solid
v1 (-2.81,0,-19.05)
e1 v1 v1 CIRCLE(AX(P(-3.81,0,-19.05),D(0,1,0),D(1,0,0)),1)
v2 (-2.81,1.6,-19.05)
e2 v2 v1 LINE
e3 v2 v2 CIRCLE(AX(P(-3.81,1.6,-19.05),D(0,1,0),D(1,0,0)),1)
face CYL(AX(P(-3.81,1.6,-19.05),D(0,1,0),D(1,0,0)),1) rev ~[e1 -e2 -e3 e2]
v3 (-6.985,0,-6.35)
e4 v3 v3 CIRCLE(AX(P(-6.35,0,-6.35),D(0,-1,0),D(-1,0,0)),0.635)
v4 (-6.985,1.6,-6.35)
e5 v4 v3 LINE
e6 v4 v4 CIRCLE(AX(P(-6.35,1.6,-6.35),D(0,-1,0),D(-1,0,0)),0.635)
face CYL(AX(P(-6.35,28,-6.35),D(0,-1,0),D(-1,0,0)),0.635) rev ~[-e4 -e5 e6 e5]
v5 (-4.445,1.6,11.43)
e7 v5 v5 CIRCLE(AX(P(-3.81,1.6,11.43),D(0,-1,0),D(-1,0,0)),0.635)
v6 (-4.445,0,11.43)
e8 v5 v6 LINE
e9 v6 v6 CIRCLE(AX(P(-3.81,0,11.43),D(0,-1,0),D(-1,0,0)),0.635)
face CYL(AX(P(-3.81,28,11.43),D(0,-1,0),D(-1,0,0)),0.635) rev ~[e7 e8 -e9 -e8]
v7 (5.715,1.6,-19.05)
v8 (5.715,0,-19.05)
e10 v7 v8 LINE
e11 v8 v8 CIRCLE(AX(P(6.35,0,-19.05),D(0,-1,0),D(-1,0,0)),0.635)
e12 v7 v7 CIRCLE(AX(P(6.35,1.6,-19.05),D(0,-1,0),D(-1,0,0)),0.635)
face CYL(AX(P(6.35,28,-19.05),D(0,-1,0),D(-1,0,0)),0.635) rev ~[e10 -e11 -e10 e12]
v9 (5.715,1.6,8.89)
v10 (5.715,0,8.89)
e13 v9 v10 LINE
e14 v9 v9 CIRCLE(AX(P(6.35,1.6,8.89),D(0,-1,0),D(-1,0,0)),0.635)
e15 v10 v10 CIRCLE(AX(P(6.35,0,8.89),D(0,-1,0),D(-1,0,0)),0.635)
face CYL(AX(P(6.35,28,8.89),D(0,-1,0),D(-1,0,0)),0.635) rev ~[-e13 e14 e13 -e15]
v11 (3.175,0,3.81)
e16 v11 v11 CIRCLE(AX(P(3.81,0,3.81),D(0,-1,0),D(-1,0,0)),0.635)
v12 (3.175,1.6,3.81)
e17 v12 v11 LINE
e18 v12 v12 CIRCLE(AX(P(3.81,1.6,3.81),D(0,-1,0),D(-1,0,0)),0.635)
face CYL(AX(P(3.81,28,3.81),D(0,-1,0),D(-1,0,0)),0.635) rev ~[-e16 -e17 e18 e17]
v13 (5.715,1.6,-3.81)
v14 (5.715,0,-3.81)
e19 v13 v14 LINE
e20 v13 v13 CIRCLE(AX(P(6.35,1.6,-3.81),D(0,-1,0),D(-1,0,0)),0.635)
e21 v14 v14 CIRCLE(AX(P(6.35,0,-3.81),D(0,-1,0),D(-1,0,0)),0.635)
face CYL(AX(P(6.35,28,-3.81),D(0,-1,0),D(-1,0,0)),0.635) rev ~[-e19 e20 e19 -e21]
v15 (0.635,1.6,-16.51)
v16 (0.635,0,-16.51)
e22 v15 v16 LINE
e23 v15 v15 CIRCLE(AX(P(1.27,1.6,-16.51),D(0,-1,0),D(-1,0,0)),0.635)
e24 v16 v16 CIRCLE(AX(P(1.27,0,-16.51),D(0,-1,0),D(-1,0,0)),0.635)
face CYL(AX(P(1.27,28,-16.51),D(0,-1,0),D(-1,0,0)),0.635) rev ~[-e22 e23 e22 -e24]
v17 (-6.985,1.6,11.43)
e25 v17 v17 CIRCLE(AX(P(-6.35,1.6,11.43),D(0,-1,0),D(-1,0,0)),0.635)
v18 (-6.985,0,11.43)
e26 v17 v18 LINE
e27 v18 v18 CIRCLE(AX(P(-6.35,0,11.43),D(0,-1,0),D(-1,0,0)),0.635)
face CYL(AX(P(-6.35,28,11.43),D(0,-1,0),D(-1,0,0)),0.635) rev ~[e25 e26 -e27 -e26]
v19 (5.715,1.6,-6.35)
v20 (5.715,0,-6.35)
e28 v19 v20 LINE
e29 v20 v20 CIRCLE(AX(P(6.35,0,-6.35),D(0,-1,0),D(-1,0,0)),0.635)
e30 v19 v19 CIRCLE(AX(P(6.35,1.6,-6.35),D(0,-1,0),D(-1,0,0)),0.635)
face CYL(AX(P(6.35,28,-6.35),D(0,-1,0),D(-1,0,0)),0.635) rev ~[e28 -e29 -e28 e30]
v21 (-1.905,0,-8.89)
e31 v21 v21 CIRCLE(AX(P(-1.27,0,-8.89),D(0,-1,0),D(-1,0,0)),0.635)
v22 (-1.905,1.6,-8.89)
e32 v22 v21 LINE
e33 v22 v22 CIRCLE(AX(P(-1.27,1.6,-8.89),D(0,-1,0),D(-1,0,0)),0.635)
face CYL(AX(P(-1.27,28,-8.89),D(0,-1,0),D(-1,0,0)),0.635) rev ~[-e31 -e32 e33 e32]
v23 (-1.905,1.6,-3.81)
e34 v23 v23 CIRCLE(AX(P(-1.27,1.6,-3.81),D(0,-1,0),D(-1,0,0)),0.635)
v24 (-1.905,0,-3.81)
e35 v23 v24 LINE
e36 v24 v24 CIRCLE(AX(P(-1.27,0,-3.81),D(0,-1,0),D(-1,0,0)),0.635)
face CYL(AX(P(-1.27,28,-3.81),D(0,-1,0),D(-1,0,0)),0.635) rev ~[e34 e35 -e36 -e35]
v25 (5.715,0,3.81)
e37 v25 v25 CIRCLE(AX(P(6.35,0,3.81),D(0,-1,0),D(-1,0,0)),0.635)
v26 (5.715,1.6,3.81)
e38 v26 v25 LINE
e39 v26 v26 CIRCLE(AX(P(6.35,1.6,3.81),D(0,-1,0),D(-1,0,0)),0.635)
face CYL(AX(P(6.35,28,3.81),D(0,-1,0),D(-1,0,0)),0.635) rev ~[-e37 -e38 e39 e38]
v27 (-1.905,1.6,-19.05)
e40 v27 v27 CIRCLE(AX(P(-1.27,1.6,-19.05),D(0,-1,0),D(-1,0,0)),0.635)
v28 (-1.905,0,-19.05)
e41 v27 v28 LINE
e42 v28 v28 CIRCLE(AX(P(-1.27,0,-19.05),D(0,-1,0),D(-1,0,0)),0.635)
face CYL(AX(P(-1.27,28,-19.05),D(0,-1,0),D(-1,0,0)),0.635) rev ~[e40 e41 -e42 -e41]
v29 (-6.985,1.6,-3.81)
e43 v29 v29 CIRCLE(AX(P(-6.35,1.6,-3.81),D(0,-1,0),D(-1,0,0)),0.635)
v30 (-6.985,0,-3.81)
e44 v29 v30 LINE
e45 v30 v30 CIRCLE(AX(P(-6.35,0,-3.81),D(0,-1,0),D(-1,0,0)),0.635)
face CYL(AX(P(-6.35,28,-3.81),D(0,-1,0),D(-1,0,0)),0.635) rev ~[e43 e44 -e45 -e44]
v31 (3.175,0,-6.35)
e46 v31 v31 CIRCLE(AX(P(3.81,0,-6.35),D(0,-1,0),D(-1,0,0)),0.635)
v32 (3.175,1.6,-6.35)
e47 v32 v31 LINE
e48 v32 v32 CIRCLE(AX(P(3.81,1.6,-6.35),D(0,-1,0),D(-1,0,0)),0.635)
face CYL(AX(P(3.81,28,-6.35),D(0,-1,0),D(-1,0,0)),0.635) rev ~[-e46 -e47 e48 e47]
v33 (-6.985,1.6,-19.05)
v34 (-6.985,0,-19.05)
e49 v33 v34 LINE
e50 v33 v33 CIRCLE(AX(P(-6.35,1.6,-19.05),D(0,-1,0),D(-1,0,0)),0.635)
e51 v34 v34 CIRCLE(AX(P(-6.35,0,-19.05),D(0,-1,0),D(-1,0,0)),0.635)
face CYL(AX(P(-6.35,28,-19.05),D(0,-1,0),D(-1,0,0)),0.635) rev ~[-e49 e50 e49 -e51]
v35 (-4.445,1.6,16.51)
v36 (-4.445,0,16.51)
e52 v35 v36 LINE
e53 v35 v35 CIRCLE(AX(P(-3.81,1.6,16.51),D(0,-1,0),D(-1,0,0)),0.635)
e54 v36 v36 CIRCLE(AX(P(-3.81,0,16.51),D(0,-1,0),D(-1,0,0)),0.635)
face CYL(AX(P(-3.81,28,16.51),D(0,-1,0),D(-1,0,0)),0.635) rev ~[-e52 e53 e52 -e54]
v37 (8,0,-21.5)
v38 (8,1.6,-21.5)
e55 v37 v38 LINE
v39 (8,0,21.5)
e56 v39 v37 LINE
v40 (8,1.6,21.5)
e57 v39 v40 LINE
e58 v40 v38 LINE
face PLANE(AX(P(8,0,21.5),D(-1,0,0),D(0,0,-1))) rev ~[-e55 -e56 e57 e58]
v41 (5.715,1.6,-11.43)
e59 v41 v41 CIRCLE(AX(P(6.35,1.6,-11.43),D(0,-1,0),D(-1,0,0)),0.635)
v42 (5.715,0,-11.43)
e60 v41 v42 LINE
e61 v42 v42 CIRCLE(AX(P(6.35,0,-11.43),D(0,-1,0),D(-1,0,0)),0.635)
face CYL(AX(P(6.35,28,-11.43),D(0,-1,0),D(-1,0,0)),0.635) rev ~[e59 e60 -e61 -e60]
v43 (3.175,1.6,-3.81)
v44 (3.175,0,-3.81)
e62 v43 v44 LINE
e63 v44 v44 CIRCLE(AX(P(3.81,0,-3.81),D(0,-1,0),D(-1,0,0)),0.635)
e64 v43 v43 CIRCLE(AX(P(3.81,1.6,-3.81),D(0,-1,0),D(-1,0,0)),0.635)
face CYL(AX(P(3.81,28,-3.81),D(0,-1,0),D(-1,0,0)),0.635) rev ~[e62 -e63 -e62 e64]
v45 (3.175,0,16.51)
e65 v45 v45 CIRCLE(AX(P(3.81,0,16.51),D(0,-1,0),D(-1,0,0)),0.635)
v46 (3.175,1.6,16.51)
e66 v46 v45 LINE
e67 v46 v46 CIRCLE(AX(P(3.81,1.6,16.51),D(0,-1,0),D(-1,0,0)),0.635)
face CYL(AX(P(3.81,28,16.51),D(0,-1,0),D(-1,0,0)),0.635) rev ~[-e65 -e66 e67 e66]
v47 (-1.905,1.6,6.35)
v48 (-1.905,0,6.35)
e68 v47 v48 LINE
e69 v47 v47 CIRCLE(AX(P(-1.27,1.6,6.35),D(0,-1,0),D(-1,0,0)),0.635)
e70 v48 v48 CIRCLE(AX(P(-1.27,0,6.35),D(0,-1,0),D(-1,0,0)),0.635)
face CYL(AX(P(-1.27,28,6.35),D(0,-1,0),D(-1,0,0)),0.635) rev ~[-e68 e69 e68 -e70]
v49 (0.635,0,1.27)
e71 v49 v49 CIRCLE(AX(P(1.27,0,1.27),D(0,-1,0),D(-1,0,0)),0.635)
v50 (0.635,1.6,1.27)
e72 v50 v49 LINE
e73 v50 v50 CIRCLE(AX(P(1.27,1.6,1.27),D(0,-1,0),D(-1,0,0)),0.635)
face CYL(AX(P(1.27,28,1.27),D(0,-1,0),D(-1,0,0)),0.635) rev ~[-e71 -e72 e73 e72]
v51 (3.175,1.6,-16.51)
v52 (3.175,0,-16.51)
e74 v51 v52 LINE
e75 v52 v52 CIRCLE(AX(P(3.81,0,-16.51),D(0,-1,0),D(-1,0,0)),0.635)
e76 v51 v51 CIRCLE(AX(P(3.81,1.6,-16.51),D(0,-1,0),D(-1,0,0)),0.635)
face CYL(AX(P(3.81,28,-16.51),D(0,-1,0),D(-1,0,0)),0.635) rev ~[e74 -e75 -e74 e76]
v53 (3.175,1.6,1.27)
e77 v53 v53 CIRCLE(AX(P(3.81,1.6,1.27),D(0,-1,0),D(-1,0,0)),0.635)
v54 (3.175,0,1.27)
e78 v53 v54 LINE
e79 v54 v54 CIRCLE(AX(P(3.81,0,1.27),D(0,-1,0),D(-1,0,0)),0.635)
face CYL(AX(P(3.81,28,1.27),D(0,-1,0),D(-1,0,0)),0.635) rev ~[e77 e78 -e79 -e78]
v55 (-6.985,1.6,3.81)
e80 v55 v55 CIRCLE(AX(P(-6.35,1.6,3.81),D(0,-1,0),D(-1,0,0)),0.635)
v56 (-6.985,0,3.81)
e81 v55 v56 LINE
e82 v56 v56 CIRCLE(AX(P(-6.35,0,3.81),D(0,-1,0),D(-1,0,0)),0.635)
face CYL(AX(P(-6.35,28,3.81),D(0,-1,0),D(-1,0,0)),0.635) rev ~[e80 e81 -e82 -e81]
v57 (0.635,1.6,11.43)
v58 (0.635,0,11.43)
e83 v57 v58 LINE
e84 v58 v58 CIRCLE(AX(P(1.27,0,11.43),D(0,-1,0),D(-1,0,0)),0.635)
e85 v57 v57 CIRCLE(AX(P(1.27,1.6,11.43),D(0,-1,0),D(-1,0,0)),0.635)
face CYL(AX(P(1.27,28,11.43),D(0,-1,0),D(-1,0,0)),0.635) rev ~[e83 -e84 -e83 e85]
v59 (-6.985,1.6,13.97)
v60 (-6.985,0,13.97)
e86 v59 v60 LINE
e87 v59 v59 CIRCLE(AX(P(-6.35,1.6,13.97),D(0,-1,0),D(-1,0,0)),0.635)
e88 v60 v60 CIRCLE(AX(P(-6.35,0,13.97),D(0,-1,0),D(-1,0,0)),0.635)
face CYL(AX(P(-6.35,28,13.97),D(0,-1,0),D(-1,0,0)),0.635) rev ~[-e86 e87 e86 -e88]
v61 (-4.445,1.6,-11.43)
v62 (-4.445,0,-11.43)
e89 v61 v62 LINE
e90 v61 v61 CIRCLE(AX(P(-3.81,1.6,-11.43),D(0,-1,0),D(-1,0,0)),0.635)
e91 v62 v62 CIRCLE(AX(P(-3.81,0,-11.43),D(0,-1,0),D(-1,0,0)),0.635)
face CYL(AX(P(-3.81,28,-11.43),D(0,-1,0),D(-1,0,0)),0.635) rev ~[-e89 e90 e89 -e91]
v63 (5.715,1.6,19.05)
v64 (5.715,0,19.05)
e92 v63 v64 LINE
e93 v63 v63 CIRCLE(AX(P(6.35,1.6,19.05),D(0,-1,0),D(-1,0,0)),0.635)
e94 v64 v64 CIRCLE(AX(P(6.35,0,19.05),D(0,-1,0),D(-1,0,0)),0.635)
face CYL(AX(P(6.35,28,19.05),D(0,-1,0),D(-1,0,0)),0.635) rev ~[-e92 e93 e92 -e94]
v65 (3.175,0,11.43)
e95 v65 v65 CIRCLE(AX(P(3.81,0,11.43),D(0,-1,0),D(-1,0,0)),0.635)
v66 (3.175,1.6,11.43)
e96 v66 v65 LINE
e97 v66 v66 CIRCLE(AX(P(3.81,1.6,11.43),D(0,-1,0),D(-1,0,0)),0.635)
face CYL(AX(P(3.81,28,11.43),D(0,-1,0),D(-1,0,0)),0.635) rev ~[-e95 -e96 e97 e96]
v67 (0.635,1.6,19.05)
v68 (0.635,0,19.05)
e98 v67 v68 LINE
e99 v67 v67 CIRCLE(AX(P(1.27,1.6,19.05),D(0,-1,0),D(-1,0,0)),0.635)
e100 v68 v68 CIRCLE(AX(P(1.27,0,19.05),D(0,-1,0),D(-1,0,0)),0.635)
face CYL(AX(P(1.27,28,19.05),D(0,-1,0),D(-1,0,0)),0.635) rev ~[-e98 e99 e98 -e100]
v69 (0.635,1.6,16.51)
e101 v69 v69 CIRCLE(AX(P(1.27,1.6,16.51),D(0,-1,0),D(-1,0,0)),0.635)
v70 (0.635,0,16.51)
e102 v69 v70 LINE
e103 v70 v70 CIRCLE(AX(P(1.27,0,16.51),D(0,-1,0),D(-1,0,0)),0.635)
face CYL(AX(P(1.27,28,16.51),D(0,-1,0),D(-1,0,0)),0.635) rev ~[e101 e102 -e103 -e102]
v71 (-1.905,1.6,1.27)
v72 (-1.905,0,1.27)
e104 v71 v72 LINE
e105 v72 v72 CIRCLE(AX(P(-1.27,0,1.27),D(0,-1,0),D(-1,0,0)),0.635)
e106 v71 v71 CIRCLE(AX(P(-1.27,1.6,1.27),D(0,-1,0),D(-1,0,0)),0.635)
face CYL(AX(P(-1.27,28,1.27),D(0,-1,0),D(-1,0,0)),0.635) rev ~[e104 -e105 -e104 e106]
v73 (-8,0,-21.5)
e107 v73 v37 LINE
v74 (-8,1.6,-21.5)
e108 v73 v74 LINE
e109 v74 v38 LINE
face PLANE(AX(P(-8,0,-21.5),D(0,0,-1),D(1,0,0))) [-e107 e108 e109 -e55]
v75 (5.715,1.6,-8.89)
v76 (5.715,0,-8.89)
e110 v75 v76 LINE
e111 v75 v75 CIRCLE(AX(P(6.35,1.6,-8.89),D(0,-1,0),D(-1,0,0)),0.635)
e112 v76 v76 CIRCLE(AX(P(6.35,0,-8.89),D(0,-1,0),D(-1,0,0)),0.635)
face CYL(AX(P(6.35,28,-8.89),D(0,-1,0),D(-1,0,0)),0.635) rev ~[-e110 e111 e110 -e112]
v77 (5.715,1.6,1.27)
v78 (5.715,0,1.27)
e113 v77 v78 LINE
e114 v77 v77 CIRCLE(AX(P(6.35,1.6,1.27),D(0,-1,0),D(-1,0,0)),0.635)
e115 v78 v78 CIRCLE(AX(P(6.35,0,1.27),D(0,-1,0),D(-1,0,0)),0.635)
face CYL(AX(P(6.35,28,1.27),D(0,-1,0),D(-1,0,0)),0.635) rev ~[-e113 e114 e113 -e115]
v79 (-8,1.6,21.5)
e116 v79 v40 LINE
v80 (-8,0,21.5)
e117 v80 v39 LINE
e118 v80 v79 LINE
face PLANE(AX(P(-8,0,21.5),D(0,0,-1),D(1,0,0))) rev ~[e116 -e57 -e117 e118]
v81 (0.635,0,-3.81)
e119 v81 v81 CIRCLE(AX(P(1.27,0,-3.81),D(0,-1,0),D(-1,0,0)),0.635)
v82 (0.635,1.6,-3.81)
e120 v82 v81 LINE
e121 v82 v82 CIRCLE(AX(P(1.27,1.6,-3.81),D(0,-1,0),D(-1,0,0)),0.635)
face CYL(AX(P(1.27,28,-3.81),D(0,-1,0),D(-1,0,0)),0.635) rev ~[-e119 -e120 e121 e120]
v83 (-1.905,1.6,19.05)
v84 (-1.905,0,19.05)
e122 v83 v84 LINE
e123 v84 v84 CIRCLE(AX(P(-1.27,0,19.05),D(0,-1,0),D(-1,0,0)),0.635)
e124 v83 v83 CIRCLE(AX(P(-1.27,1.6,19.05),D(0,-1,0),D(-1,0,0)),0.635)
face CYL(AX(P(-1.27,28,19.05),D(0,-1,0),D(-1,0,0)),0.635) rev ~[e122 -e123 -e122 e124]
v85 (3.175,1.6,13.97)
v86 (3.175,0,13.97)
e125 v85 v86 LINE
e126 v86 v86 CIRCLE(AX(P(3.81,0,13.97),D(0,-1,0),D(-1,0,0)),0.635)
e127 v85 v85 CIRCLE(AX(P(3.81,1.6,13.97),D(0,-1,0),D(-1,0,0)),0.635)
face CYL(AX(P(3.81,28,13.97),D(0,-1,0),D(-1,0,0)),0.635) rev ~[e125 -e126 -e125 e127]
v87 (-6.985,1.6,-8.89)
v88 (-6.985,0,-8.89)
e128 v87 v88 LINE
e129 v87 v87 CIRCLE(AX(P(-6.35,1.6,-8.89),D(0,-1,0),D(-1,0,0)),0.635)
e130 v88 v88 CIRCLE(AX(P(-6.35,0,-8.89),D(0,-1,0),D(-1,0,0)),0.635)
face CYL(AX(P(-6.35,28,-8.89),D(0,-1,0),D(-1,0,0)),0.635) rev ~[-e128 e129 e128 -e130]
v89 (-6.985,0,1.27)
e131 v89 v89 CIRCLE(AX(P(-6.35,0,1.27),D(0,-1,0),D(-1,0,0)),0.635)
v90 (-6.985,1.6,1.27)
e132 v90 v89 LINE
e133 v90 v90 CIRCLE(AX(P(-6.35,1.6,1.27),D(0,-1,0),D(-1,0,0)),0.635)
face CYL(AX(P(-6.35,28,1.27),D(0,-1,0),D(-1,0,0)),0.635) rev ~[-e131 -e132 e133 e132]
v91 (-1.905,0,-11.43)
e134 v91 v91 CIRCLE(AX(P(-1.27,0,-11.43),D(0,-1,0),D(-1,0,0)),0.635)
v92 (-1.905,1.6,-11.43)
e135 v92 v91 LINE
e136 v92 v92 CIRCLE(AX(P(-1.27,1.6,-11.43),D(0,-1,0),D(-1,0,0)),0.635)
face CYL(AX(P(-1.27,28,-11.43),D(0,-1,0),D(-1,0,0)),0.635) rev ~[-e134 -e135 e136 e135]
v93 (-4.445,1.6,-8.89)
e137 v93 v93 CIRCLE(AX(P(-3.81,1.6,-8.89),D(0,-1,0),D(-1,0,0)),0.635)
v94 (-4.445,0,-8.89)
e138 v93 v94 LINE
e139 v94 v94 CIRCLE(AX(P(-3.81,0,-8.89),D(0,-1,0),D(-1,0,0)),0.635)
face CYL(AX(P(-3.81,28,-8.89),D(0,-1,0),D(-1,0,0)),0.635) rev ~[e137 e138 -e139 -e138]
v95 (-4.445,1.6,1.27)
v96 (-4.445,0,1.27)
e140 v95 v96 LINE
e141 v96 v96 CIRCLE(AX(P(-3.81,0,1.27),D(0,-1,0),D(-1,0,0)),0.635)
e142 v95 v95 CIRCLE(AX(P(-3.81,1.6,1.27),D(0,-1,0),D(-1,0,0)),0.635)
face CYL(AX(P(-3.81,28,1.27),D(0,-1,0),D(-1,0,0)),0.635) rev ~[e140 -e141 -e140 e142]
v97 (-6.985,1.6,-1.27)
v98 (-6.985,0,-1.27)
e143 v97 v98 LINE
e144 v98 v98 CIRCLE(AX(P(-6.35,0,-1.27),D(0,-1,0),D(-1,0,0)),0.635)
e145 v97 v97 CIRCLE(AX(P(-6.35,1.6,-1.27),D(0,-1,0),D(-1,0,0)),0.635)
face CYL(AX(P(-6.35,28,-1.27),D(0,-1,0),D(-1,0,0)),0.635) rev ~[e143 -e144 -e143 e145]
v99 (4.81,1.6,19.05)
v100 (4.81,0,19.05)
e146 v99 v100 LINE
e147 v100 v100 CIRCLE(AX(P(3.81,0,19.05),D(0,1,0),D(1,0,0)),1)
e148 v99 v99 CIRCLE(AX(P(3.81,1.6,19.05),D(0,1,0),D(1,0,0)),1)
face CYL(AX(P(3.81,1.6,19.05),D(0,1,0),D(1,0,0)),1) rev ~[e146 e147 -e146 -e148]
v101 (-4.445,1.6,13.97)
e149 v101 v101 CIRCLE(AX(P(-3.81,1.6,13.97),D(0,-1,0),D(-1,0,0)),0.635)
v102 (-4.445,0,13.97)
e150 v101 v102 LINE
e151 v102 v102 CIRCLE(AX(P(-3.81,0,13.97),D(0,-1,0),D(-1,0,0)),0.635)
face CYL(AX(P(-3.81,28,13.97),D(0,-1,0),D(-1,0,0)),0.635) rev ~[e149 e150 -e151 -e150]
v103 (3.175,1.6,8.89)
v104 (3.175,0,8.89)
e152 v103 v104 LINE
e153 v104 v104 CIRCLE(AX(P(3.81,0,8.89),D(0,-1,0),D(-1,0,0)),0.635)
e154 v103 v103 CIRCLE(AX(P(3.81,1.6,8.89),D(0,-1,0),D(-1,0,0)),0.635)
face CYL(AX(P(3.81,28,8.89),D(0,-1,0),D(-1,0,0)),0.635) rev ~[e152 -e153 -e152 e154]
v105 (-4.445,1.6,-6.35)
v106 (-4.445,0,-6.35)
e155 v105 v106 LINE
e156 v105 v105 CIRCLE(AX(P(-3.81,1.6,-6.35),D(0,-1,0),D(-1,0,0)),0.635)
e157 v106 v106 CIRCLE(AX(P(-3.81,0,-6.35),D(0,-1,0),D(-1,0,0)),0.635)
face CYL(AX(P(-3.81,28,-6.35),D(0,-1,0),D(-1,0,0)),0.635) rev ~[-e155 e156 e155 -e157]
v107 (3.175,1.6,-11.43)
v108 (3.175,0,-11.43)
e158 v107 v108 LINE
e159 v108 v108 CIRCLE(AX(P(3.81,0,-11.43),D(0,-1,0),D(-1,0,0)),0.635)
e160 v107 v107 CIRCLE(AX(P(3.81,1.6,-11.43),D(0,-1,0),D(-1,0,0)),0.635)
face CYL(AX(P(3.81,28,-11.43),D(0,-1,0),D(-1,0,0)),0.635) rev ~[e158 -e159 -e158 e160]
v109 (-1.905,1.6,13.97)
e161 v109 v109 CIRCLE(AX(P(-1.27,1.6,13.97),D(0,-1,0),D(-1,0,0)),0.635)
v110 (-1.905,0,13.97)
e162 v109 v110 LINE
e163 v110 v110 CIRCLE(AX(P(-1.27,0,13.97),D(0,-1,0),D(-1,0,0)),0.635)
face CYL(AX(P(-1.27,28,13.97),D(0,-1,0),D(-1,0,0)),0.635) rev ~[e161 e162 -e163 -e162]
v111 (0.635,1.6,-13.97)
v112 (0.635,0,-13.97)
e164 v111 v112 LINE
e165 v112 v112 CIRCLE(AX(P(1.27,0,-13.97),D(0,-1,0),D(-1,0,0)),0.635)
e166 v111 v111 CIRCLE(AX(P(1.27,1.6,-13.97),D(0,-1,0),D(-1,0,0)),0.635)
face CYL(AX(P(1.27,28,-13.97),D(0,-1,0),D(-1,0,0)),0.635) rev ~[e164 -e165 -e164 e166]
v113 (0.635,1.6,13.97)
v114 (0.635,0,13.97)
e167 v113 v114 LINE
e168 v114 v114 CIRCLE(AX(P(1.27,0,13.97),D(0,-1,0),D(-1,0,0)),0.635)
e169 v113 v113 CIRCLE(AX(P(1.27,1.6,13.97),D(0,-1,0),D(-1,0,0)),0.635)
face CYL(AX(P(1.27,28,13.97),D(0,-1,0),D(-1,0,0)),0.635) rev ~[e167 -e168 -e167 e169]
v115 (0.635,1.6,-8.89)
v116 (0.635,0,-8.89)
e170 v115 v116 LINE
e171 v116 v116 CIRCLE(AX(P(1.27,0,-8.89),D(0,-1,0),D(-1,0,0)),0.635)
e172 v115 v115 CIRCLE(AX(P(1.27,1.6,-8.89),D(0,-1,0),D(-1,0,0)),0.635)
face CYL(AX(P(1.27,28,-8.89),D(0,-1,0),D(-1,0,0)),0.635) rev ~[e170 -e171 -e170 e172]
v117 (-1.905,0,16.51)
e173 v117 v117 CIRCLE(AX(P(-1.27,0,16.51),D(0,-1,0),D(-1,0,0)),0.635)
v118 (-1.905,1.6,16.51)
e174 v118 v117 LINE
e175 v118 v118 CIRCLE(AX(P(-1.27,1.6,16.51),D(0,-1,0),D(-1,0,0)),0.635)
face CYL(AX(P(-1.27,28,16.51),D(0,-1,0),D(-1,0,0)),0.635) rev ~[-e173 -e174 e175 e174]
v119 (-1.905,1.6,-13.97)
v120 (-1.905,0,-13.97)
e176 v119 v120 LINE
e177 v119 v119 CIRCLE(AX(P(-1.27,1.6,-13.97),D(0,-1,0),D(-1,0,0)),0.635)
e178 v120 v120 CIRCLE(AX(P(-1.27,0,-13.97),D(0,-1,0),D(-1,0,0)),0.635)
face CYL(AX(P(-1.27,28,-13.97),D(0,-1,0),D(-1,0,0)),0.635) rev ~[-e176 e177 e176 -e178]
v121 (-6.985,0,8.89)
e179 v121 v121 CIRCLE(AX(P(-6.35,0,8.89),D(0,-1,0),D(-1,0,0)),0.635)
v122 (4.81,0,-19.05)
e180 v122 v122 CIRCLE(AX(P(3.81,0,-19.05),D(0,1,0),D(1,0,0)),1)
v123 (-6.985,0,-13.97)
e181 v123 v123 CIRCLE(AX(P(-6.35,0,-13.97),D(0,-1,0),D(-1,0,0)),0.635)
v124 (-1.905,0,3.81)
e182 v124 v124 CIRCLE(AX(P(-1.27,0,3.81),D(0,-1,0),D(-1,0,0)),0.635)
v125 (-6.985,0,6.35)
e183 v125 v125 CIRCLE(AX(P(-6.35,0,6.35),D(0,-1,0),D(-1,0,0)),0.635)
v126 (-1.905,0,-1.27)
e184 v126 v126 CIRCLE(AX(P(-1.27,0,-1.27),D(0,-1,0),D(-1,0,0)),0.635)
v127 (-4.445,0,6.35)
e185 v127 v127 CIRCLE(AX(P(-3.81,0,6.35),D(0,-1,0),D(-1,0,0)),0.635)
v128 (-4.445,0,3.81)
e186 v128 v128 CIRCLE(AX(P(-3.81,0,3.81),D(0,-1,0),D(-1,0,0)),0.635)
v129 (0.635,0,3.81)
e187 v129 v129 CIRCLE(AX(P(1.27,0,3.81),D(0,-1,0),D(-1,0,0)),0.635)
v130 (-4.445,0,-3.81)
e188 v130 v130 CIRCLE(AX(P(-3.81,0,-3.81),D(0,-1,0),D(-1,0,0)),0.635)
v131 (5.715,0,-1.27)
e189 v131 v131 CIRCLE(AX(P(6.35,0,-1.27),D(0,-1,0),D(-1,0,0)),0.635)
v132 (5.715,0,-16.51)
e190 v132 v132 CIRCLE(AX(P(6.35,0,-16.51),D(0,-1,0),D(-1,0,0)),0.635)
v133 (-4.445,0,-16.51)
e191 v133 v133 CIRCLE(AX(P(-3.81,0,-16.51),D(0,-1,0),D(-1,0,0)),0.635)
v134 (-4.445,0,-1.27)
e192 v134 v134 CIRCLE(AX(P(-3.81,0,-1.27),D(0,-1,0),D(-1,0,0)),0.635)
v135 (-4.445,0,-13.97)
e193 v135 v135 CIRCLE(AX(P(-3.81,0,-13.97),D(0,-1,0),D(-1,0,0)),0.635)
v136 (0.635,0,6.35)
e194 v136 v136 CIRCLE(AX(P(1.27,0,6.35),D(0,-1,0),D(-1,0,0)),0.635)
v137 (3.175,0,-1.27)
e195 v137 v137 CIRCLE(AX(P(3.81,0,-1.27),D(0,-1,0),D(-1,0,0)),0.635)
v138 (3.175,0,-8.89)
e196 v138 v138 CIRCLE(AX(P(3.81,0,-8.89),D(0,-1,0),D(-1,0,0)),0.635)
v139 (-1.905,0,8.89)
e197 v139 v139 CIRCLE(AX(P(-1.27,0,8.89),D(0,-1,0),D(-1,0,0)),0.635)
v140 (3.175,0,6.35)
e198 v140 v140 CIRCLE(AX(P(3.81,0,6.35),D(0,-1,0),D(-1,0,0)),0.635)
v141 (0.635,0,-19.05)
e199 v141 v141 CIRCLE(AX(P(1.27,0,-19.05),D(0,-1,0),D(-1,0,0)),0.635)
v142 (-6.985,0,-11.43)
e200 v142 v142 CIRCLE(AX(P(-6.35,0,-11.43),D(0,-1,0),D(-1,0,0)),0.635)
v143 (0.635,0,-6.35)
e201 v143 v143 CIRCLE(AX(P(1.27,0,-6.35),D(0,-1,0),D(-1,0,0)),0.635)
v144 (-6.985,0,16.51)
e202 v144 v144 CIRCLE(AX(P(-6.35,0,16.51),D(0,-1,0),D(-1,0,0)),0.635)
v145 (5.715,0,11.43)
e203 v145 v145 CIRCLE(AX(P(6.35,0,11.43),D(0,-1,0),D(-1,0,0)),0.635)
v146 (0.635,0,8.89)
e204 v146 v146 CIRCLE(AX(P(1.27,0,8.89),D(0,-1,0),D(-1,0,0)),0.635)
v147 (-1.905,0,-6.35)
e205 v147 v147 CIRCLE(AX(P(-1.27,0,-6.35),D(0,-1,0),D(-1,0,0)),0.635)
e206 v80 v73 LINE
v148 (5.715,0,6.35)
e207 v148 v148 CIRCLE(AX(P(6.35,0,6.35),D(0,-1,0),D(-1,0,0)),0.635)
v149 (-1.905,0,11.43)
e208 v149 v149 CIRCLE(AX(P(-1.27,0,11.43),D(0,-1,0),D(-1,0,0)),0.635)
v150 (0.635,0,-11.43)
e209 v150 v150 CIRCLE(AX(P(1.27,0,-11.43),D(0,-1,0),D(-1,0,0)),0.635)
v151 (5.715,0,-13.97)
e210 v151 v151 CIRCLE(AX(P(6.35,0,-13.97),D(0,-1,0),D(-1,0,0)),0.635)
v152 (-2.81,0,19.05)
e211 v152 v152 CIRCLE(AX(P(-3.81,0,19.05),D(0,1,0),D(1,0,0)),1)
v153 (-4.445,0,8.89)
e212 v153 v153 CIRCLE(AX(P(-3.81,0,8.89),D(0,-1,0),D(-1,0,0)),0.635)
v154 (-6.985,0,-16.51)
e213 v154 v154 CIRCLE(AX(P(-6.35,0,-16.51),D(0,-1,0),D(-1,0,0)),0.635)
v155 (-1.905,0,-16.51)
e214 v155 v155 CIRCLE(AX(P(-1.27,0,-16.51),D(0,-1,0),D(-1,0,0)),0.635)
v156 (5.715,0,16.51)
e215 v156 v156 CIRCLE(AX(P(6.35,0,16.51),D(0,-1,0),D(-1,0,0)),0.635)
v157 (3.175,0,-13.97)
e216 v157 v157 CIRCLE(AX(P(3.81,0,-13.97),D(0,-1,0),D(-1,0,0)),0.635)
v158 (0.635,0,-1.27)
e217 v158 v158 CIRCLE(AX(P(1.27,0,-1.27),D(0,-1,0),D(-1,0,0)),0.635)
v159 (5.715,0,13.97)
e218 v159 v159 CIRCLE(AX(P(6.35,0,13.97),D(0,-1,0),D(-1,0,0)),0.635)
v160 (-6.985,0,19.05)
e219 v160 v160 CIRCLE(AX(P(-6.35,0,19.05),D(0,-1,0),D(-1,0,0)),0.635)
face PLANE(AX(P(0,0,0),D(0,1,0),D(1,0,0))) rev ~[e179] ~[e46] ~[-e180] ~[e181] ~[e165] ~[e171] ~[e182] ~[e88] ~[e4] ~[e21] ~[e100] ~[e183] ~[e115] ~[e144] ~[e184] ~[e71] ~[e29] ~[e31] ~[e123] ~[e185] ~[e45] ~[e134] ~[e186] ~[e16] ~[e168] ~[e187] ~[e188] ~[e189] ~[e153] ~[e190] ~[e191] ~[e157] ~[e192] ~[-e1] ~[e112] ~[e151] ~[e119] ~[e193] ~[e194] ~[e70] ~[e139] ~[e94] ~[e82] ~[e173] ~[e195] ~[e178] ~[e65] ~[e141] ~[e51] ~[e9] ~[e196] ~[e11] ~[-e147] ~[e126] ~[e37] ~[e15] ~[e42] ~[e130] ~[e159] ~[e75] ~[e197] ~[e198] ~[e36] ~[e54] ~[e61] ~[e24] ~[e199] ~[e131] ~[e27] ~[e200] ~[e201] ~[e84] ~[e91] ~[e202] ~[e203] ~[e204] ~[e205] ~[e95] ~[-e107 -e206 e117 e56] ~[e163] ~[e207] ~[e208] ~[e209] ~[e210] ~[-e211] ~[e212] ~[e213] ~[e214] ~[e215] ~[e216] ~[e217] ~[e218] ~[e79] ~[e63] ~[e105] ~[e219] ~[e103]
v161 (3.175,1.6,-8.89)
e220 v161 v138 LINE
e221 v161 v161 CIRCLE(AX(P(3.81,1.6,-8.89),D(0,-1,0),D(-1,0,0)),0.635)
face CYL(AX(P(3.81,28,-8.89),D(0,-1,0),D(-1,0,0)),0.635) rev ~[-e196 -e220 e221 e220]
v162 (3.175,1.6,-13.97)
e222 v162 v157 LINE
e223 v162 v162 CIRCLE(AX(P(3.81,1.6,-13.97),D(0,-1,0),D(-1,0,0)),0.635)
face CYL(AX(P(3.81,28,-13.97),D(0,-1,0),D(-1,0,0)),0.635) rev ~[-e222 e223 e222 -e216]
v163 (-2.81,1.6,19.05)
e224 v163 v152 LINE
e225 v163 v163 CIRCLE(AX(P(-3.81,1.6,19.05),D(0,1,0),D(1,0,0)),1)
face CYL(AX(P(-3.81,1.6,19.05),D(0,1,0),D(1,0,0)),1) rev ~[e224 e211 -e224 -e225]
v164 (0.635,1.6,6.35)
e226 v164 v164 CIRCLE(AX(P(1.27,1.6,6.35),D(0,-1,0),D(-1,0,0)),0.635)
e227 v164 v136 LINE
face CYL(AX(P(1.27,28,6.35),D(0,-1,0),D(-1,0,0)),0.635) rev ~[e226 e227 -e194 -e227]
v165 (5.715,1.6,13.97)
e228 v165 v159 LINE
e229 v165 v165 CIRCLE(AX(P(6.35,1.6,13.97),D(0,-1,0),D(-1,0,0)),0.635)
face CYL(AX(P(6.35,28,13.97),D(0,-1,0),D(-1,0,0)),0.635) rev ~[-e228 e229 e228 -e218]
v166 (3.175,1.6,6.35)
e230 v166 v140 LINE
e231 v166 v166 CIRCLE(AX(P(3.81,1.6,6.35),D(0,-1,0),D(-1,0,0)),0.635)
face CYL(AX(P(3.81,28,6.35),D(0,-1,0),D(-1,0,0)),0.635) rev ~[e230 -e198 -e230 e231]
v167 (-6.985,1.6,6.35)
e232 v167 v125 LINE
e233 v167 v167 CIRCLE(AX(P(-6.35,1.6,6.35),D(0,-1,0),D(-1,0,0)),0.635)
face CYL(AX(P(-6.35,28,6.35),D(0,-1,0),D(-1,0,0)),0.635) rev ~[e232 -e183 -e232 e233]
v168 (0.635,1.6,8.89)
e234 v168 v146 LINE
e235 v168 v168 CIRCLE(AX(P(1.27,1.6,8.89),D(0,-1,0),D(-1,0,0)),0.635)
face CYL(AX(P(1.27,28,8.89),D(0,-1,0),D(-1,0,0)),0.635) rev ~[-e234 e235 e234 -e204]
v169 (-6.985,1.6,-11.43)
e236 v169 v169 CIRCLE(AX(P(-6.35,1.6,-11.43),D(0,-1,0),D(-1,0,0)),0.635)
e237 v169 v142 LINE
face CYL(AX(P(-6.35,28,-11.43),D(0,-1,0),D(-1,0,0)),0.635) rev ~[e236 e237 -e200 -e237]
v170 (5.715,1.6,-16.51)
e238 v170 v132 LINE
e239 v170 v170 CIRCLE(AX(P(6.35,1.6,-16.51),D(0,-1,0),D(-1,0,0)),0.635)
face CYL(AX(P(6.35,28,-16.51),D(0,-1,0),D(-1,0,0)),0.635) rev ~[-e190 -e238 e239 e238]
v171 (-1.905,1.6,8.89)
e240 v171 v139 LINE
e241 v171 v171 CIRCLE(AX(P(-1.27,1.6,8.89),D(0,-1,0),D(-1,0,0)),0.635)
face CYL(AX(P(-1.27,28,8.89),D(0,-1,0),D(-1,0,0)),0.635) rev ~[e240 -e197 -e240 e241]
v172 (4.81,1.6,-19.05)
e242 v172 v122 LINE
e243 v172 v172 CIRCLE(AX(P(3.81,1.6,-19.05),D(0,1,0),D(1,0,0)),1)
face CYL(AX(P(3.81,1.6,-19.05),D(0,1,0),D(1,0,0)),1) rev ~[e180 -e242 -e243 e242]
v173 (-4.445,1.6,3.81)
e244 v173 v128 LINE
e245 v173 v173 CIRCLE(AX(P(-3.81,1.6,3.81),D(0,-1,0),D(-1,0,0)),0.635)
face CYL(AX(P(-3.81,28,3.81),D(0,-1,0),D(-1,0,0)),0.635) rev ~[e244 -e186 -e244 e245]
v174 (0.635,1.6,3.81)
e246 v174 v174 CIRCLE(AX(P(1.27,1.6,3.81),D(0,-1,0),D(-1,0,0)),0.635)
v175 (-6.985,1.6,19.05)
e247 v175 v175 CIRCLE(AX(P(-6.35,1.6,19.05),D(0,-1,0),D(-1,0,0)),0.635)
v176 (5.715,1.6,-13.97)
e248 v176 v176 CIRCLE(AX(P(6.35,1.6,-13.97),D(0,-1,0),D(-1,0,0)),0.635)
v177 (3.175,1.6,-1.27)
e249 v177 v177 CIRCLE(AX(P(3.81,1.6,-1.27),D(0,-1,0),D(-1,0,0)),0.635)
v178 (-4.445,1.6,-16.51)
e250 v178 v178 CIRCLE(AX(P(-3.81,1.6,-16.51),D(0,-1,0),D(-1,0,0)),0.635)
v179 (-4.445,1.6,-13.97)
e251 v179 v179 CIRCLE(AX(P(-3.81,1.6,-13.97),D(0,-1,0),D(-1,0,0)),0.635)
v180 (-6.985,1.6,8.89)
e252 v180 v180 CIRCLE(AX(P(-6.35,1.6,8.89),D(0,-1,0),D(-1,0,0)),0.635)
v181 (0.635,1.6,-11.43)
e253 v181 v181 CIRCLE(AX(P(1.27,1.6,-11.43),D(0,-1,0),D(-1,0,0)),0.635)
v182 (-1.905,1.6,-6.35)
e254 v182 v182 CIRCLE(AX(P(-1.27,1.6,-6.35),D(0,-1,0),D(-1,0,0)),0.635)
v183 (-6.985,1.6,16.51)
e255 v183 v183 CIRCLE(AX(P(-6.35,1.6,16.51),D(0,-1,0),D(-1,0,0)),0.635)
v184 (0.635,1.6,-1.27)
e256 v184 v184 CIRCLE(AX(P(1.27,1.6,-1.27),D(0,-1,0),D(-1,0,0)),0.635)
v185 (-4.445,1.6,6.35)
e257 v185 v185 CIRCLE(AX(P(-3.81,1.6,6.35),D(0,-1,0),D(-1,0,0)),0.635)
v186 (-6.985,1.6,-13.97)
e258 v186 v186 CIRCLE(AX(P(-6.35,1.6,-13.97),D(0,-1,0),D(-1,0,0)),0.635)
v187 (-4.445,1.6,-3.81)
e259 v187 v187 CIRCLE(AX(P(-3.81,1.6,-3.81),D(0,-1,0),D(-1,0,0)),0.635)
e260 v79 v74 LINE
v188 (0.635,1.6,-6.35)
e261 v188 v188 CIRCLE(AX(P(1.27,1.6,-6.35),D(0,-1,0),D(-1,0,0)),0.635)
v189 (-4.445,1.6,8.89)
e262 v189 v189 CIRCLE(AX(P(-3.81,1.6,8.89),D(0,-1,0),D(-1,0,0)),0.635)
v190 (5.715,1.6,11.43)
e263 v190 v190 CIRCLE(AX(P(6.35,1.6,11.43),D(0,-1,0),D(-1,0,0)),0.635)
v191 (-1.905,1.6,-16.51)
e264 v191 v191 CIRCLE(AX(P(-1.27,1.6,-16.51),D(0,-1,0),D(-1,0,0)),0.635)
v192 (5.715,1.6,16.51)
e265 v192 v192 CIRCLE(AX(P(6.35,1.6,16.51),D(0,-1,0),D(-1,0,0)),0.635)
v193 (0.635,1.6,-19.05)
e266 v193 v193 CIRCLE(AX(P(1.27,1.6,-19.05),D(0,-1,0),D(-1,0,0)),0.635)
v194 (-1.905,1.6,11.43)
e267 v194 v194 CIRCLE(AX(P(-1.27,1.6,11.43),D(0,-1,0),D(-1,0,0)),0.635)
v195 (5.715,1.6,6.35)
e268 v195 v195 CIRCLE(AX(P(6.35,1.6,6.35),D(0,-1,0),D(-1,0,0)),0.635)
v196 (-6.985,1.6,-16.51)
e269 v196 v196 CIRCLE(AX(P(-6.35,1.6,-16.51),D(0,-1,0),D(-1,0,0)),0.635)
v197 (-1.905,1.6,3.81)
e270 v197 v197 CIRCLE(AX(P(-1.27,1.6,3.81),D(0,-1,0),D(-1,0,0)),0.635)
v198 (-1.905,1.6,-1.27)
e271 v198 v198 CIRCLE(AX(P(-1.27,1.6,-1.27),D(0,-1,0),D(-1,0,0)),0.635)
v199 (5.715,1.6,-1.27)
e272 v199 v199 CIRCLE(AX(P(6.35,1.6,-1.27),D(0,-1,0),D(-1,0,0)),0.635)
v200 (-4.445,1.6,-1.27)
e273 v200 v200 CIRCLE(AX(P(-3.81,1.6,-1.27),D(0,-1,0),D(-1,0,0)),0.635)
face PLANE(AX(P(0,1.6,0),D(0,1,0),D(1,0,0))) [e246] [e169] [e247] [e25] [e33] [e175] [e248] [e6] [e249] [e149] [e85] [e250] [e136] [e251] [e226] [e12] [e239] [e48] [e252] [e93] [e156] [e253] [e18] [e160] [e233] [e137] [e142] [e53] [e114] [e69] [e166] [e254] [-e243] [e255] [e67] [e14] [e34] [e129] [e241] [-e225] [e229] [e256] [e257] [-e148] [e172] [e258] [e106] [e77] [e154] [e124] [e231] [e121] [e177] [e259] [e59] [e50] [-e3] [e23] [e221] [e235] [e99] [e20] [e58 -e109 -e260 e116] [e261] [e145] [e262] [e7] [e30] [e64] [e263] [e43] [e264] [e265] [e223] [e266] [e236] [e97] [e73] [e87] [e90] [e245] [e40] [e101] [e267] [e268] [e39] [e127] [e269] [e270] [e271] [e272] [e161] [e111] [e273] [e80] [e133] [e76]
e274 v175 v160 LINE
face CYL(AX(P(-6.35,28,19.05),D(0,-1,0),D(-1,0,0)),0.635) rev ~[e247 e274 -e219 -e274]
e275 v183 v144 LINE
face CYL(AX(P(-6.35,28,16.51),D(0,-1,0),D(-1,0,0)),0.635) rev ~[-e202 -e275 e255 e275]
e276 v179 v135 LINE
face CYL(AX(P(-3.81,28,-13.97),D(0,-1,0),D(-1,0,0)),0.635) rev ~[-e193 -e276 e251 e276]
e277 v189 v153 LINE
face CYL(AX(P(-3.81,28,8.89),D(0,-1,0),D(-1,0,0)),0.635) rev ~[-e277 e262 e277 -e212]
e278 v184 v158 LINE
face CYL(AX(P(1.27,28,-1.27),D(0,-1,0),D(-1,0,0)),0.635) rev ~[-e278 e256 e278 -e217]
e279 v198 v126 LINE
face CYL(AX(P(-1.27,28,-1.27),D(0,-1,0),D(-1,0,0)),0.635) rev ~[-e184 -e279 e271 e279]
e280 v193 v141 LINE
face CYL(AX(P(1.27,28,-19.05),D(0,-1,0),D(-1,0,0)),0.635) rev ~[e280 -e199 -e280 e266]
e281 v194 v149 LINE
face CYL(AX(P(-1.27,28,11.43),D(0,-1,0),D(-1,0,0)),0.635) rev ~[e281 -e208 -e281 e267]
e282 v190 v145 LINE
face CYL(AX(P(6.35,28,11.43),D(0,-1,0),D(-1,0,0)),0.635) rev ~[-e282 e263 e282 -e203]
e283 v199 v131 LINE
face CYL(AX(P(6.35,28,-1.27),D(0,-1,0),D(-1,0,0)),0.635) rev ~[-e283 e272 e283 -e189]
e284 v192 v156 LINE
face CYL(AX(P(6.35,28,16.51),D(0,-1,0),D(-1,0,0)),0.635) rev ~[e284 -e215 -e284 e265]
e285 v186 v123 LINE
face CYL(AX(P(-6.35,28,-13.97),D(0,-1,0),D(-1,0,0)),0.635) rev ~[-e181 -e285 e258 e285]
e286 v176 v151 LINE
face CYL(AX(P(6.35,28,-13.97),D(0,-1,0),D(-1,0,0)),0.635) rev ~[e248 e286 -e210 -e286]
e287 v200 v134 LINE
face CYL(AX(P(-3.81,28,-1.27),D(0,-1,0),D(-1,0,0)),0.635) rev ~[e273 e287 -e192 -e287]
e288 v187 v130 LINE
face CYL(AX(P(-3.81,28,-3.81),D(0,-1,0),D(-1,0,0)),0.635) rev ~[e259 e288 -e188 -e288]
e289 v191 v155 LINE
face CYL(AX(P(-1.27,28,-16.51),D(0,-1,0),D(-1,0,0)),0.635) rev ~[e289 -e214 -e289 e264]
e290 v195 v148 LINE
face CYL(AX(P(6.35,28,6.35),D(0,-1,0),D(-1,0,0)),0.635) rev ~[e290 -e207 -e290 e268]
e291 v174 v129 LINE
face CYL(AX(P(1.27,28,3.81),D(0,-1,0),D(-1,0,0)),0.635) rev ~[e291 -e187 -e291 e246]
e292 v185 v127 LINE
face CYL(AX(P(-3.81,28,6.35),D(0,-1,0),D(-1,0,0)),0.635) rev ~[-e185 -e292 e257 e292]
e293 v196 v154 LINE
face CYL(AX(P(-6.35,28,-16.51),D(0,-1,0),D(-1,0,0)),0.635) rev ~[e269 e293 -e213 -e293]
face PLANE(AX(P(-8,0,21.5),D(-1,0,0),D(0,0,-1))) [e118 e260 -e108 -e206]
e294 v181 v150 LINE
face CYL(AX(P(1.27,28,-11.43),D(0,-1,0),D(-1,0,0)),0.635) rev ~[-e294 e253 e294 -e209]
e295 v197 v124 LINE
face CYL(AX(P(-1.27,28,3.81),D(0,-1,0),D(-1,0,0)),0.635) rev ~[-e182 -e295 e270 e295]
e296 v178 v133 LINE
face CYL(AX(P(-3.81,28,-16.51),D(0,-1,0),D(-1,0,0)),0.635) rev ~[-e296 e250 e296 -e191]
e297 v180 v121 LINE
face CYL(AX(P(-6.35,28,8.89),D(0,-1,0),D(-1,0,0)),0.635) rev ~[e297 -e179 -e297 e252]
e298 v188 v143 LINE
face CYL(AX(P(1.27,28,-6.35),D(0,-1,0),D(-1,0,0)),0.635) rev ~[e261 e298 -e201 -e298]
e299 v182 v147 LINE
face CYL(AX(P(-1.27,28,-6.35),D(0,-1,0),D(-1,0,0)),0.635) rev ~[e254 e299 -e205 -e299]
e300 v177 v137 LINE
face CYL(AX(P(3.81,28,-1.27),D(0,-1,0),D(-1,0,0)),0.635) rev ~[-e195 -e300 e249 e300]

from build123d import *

# Parameters (mm, degrees)
SKETCH1_W                     = 16
SKETCH1_H                     = 43
BOSS_EXTRUDE1_DEPTH           = 1.6
F_6_0_05_DIAMETER_HOLE1_D     = 1.27
F_6_0_05_DIAMETER_HOLE1_DEPTH = 26.4
F_6_0_05_DIAMETER_HOLE1_TIP   = 0.381546493
SKETCH4_R                     = 1
CUT_EXTRUDE1_DEPTH            = 2.6


with BuildPart() as part:
    # Sketch1 → Boss-Extrude1 (new body)
    with BuildSketch(Plane(origin=(0, 0, 0), x_dir=(1, 0, 0), z_dir=(0, 1, 0))):
        Rectangle(SKETCH1_W, SKETCH1_H)
    extrude(amount=BOSS_EXTRUDE1_DEPTH)

    # #6 (0.05) Diameter Hole1
    with Locations(Plane(origin=(0, 1.6, 0), x_dir=(1, 0, 0), z_dir=(0, 1, 0))):
        with Locations((-6.35, 19.05), (-3.81, 19.05), (-1.27, 19.05), (1.27, 19.05), (3.81, 19.05), (6.35, 19.05), (-3.81, 16.51), (-1.27, 16.51), (1.27, 16.51), (3.81, 16.51), (6.35, 16.51), (-3.81, 13.97), (-1.27, 13.97), (1.27, 13.97), (3.81, 13.97), (6.35, 13.97), (-3.81, 11.43), (-1.27, 11.43), (1.27, 11.43), (3.81, 11.43), (6.35, 11.43), (-3.81, 8.89), (-1.27, 8.89), (1.27, 8.89), (3.81, 8.89), (6.35, 8.89), (-3.81, 6.35), (-1.27, 6.35), (1.27, 6.35), (3.81, 6.35), (6.35, 6.35), (-3.81, 3.81), (-1.27, 3.81), (1.27, 3.81), (3.81, 3.81), (6.35, 3.81), (-3.81, 1.27), (-1.27, 1.27), (1.27, 1.27), (3.81, 1.27), (6.35, 1.27), (-3.81, -1.27), (-1.27, -1.27), (1.27, -1.27), (3.81, -1.27), (6.35, -1.27), (-3.81, -3.81), (-1.27, -3.81), (1.27, -3.81), (3.81, -3.81), (6.35, -3.81), (-3.81, -6.35), (-1.27, -6.35), (1.27, -6.35), (3.81, -6.35), (6.35, -6.35), (-3.81, -8.89), (-1.27, -8.89), (1.27, -8.89), (3.81, -8.89), (6.35, -8.89), (-6.35, 16.51), (-6.35, 13.97), (-6.35, 11.43), (-6.35, 8.89), (-6.35, 6.35), (-6.35, 3.81), (-6.35, 1.27), (-6.35, -1.27), (-6.35, -3.81), (-6.35, -6.35), (-6.35, -8.89), (-6.35, -11.43), (-3.81, -11.43), (-1.27, -11.43), (1.27, -11.43), (3.81, -11.43), (6.35, -11.43), (-6.35, -13.97), (-3.81, -13.97), (-1.27, -13.97), (1.27, -13.97), (3.81, -13.97), (6.35, -13.97), (-6.35, -16.51), (-3.81, -16.51), (-1.27, -16.51), (1.27, -16.51), (3.81, -16.51), (6.35, -16.51), (-6.35, -19.05), (-3.81, -19.05), (-1.27, -19.05), (1.27, -19.05), (3.81, -19.05), (6.35, -19.05)):
            Hole(F_6_0_05_DIAMETER_HOLE1_D / 2, depth=F_6_0_05_DIAMETER_HOLE1_DEPTH)
            with Locations((0, 0, -(F_6_0_05_DIAMETER_HOLE1_DEPTH + F_6_0_05_DIAMETER_HOLE1_TIP / 2))):  # 118° drill point
                Cone(0, F_6_0_05_DIAMETER_HOLE1_D / 2, F_6_0_05_DIAMETER_HOLE1_TIP, mode=Mode.SUBTRACT)

    # Sketch4 → Cut-Extrude1 (cut, through all)
    with BuildSketch(Plane(origin=(0, 1.6, 0), x_dir=(1, 0, 0), z_dir=(0, 1, 0))):
        with Locations((-3.81, 19.05)):
            Circle(SKETCH4_R)
        with Locations((3.81, 19.05)):
            Circle(SKETCH4_R)
        with Locations((-3.81, -19.05)):
            Circle(SKETCH4_R)
        with Locations((3.81, -19.05)):
            Circle(SKETCH4_R)
    extrude(amount=-CUT_EXTRUDE1_DEPTH, mode=Mode.SUBTRACT)


solid = part.part
